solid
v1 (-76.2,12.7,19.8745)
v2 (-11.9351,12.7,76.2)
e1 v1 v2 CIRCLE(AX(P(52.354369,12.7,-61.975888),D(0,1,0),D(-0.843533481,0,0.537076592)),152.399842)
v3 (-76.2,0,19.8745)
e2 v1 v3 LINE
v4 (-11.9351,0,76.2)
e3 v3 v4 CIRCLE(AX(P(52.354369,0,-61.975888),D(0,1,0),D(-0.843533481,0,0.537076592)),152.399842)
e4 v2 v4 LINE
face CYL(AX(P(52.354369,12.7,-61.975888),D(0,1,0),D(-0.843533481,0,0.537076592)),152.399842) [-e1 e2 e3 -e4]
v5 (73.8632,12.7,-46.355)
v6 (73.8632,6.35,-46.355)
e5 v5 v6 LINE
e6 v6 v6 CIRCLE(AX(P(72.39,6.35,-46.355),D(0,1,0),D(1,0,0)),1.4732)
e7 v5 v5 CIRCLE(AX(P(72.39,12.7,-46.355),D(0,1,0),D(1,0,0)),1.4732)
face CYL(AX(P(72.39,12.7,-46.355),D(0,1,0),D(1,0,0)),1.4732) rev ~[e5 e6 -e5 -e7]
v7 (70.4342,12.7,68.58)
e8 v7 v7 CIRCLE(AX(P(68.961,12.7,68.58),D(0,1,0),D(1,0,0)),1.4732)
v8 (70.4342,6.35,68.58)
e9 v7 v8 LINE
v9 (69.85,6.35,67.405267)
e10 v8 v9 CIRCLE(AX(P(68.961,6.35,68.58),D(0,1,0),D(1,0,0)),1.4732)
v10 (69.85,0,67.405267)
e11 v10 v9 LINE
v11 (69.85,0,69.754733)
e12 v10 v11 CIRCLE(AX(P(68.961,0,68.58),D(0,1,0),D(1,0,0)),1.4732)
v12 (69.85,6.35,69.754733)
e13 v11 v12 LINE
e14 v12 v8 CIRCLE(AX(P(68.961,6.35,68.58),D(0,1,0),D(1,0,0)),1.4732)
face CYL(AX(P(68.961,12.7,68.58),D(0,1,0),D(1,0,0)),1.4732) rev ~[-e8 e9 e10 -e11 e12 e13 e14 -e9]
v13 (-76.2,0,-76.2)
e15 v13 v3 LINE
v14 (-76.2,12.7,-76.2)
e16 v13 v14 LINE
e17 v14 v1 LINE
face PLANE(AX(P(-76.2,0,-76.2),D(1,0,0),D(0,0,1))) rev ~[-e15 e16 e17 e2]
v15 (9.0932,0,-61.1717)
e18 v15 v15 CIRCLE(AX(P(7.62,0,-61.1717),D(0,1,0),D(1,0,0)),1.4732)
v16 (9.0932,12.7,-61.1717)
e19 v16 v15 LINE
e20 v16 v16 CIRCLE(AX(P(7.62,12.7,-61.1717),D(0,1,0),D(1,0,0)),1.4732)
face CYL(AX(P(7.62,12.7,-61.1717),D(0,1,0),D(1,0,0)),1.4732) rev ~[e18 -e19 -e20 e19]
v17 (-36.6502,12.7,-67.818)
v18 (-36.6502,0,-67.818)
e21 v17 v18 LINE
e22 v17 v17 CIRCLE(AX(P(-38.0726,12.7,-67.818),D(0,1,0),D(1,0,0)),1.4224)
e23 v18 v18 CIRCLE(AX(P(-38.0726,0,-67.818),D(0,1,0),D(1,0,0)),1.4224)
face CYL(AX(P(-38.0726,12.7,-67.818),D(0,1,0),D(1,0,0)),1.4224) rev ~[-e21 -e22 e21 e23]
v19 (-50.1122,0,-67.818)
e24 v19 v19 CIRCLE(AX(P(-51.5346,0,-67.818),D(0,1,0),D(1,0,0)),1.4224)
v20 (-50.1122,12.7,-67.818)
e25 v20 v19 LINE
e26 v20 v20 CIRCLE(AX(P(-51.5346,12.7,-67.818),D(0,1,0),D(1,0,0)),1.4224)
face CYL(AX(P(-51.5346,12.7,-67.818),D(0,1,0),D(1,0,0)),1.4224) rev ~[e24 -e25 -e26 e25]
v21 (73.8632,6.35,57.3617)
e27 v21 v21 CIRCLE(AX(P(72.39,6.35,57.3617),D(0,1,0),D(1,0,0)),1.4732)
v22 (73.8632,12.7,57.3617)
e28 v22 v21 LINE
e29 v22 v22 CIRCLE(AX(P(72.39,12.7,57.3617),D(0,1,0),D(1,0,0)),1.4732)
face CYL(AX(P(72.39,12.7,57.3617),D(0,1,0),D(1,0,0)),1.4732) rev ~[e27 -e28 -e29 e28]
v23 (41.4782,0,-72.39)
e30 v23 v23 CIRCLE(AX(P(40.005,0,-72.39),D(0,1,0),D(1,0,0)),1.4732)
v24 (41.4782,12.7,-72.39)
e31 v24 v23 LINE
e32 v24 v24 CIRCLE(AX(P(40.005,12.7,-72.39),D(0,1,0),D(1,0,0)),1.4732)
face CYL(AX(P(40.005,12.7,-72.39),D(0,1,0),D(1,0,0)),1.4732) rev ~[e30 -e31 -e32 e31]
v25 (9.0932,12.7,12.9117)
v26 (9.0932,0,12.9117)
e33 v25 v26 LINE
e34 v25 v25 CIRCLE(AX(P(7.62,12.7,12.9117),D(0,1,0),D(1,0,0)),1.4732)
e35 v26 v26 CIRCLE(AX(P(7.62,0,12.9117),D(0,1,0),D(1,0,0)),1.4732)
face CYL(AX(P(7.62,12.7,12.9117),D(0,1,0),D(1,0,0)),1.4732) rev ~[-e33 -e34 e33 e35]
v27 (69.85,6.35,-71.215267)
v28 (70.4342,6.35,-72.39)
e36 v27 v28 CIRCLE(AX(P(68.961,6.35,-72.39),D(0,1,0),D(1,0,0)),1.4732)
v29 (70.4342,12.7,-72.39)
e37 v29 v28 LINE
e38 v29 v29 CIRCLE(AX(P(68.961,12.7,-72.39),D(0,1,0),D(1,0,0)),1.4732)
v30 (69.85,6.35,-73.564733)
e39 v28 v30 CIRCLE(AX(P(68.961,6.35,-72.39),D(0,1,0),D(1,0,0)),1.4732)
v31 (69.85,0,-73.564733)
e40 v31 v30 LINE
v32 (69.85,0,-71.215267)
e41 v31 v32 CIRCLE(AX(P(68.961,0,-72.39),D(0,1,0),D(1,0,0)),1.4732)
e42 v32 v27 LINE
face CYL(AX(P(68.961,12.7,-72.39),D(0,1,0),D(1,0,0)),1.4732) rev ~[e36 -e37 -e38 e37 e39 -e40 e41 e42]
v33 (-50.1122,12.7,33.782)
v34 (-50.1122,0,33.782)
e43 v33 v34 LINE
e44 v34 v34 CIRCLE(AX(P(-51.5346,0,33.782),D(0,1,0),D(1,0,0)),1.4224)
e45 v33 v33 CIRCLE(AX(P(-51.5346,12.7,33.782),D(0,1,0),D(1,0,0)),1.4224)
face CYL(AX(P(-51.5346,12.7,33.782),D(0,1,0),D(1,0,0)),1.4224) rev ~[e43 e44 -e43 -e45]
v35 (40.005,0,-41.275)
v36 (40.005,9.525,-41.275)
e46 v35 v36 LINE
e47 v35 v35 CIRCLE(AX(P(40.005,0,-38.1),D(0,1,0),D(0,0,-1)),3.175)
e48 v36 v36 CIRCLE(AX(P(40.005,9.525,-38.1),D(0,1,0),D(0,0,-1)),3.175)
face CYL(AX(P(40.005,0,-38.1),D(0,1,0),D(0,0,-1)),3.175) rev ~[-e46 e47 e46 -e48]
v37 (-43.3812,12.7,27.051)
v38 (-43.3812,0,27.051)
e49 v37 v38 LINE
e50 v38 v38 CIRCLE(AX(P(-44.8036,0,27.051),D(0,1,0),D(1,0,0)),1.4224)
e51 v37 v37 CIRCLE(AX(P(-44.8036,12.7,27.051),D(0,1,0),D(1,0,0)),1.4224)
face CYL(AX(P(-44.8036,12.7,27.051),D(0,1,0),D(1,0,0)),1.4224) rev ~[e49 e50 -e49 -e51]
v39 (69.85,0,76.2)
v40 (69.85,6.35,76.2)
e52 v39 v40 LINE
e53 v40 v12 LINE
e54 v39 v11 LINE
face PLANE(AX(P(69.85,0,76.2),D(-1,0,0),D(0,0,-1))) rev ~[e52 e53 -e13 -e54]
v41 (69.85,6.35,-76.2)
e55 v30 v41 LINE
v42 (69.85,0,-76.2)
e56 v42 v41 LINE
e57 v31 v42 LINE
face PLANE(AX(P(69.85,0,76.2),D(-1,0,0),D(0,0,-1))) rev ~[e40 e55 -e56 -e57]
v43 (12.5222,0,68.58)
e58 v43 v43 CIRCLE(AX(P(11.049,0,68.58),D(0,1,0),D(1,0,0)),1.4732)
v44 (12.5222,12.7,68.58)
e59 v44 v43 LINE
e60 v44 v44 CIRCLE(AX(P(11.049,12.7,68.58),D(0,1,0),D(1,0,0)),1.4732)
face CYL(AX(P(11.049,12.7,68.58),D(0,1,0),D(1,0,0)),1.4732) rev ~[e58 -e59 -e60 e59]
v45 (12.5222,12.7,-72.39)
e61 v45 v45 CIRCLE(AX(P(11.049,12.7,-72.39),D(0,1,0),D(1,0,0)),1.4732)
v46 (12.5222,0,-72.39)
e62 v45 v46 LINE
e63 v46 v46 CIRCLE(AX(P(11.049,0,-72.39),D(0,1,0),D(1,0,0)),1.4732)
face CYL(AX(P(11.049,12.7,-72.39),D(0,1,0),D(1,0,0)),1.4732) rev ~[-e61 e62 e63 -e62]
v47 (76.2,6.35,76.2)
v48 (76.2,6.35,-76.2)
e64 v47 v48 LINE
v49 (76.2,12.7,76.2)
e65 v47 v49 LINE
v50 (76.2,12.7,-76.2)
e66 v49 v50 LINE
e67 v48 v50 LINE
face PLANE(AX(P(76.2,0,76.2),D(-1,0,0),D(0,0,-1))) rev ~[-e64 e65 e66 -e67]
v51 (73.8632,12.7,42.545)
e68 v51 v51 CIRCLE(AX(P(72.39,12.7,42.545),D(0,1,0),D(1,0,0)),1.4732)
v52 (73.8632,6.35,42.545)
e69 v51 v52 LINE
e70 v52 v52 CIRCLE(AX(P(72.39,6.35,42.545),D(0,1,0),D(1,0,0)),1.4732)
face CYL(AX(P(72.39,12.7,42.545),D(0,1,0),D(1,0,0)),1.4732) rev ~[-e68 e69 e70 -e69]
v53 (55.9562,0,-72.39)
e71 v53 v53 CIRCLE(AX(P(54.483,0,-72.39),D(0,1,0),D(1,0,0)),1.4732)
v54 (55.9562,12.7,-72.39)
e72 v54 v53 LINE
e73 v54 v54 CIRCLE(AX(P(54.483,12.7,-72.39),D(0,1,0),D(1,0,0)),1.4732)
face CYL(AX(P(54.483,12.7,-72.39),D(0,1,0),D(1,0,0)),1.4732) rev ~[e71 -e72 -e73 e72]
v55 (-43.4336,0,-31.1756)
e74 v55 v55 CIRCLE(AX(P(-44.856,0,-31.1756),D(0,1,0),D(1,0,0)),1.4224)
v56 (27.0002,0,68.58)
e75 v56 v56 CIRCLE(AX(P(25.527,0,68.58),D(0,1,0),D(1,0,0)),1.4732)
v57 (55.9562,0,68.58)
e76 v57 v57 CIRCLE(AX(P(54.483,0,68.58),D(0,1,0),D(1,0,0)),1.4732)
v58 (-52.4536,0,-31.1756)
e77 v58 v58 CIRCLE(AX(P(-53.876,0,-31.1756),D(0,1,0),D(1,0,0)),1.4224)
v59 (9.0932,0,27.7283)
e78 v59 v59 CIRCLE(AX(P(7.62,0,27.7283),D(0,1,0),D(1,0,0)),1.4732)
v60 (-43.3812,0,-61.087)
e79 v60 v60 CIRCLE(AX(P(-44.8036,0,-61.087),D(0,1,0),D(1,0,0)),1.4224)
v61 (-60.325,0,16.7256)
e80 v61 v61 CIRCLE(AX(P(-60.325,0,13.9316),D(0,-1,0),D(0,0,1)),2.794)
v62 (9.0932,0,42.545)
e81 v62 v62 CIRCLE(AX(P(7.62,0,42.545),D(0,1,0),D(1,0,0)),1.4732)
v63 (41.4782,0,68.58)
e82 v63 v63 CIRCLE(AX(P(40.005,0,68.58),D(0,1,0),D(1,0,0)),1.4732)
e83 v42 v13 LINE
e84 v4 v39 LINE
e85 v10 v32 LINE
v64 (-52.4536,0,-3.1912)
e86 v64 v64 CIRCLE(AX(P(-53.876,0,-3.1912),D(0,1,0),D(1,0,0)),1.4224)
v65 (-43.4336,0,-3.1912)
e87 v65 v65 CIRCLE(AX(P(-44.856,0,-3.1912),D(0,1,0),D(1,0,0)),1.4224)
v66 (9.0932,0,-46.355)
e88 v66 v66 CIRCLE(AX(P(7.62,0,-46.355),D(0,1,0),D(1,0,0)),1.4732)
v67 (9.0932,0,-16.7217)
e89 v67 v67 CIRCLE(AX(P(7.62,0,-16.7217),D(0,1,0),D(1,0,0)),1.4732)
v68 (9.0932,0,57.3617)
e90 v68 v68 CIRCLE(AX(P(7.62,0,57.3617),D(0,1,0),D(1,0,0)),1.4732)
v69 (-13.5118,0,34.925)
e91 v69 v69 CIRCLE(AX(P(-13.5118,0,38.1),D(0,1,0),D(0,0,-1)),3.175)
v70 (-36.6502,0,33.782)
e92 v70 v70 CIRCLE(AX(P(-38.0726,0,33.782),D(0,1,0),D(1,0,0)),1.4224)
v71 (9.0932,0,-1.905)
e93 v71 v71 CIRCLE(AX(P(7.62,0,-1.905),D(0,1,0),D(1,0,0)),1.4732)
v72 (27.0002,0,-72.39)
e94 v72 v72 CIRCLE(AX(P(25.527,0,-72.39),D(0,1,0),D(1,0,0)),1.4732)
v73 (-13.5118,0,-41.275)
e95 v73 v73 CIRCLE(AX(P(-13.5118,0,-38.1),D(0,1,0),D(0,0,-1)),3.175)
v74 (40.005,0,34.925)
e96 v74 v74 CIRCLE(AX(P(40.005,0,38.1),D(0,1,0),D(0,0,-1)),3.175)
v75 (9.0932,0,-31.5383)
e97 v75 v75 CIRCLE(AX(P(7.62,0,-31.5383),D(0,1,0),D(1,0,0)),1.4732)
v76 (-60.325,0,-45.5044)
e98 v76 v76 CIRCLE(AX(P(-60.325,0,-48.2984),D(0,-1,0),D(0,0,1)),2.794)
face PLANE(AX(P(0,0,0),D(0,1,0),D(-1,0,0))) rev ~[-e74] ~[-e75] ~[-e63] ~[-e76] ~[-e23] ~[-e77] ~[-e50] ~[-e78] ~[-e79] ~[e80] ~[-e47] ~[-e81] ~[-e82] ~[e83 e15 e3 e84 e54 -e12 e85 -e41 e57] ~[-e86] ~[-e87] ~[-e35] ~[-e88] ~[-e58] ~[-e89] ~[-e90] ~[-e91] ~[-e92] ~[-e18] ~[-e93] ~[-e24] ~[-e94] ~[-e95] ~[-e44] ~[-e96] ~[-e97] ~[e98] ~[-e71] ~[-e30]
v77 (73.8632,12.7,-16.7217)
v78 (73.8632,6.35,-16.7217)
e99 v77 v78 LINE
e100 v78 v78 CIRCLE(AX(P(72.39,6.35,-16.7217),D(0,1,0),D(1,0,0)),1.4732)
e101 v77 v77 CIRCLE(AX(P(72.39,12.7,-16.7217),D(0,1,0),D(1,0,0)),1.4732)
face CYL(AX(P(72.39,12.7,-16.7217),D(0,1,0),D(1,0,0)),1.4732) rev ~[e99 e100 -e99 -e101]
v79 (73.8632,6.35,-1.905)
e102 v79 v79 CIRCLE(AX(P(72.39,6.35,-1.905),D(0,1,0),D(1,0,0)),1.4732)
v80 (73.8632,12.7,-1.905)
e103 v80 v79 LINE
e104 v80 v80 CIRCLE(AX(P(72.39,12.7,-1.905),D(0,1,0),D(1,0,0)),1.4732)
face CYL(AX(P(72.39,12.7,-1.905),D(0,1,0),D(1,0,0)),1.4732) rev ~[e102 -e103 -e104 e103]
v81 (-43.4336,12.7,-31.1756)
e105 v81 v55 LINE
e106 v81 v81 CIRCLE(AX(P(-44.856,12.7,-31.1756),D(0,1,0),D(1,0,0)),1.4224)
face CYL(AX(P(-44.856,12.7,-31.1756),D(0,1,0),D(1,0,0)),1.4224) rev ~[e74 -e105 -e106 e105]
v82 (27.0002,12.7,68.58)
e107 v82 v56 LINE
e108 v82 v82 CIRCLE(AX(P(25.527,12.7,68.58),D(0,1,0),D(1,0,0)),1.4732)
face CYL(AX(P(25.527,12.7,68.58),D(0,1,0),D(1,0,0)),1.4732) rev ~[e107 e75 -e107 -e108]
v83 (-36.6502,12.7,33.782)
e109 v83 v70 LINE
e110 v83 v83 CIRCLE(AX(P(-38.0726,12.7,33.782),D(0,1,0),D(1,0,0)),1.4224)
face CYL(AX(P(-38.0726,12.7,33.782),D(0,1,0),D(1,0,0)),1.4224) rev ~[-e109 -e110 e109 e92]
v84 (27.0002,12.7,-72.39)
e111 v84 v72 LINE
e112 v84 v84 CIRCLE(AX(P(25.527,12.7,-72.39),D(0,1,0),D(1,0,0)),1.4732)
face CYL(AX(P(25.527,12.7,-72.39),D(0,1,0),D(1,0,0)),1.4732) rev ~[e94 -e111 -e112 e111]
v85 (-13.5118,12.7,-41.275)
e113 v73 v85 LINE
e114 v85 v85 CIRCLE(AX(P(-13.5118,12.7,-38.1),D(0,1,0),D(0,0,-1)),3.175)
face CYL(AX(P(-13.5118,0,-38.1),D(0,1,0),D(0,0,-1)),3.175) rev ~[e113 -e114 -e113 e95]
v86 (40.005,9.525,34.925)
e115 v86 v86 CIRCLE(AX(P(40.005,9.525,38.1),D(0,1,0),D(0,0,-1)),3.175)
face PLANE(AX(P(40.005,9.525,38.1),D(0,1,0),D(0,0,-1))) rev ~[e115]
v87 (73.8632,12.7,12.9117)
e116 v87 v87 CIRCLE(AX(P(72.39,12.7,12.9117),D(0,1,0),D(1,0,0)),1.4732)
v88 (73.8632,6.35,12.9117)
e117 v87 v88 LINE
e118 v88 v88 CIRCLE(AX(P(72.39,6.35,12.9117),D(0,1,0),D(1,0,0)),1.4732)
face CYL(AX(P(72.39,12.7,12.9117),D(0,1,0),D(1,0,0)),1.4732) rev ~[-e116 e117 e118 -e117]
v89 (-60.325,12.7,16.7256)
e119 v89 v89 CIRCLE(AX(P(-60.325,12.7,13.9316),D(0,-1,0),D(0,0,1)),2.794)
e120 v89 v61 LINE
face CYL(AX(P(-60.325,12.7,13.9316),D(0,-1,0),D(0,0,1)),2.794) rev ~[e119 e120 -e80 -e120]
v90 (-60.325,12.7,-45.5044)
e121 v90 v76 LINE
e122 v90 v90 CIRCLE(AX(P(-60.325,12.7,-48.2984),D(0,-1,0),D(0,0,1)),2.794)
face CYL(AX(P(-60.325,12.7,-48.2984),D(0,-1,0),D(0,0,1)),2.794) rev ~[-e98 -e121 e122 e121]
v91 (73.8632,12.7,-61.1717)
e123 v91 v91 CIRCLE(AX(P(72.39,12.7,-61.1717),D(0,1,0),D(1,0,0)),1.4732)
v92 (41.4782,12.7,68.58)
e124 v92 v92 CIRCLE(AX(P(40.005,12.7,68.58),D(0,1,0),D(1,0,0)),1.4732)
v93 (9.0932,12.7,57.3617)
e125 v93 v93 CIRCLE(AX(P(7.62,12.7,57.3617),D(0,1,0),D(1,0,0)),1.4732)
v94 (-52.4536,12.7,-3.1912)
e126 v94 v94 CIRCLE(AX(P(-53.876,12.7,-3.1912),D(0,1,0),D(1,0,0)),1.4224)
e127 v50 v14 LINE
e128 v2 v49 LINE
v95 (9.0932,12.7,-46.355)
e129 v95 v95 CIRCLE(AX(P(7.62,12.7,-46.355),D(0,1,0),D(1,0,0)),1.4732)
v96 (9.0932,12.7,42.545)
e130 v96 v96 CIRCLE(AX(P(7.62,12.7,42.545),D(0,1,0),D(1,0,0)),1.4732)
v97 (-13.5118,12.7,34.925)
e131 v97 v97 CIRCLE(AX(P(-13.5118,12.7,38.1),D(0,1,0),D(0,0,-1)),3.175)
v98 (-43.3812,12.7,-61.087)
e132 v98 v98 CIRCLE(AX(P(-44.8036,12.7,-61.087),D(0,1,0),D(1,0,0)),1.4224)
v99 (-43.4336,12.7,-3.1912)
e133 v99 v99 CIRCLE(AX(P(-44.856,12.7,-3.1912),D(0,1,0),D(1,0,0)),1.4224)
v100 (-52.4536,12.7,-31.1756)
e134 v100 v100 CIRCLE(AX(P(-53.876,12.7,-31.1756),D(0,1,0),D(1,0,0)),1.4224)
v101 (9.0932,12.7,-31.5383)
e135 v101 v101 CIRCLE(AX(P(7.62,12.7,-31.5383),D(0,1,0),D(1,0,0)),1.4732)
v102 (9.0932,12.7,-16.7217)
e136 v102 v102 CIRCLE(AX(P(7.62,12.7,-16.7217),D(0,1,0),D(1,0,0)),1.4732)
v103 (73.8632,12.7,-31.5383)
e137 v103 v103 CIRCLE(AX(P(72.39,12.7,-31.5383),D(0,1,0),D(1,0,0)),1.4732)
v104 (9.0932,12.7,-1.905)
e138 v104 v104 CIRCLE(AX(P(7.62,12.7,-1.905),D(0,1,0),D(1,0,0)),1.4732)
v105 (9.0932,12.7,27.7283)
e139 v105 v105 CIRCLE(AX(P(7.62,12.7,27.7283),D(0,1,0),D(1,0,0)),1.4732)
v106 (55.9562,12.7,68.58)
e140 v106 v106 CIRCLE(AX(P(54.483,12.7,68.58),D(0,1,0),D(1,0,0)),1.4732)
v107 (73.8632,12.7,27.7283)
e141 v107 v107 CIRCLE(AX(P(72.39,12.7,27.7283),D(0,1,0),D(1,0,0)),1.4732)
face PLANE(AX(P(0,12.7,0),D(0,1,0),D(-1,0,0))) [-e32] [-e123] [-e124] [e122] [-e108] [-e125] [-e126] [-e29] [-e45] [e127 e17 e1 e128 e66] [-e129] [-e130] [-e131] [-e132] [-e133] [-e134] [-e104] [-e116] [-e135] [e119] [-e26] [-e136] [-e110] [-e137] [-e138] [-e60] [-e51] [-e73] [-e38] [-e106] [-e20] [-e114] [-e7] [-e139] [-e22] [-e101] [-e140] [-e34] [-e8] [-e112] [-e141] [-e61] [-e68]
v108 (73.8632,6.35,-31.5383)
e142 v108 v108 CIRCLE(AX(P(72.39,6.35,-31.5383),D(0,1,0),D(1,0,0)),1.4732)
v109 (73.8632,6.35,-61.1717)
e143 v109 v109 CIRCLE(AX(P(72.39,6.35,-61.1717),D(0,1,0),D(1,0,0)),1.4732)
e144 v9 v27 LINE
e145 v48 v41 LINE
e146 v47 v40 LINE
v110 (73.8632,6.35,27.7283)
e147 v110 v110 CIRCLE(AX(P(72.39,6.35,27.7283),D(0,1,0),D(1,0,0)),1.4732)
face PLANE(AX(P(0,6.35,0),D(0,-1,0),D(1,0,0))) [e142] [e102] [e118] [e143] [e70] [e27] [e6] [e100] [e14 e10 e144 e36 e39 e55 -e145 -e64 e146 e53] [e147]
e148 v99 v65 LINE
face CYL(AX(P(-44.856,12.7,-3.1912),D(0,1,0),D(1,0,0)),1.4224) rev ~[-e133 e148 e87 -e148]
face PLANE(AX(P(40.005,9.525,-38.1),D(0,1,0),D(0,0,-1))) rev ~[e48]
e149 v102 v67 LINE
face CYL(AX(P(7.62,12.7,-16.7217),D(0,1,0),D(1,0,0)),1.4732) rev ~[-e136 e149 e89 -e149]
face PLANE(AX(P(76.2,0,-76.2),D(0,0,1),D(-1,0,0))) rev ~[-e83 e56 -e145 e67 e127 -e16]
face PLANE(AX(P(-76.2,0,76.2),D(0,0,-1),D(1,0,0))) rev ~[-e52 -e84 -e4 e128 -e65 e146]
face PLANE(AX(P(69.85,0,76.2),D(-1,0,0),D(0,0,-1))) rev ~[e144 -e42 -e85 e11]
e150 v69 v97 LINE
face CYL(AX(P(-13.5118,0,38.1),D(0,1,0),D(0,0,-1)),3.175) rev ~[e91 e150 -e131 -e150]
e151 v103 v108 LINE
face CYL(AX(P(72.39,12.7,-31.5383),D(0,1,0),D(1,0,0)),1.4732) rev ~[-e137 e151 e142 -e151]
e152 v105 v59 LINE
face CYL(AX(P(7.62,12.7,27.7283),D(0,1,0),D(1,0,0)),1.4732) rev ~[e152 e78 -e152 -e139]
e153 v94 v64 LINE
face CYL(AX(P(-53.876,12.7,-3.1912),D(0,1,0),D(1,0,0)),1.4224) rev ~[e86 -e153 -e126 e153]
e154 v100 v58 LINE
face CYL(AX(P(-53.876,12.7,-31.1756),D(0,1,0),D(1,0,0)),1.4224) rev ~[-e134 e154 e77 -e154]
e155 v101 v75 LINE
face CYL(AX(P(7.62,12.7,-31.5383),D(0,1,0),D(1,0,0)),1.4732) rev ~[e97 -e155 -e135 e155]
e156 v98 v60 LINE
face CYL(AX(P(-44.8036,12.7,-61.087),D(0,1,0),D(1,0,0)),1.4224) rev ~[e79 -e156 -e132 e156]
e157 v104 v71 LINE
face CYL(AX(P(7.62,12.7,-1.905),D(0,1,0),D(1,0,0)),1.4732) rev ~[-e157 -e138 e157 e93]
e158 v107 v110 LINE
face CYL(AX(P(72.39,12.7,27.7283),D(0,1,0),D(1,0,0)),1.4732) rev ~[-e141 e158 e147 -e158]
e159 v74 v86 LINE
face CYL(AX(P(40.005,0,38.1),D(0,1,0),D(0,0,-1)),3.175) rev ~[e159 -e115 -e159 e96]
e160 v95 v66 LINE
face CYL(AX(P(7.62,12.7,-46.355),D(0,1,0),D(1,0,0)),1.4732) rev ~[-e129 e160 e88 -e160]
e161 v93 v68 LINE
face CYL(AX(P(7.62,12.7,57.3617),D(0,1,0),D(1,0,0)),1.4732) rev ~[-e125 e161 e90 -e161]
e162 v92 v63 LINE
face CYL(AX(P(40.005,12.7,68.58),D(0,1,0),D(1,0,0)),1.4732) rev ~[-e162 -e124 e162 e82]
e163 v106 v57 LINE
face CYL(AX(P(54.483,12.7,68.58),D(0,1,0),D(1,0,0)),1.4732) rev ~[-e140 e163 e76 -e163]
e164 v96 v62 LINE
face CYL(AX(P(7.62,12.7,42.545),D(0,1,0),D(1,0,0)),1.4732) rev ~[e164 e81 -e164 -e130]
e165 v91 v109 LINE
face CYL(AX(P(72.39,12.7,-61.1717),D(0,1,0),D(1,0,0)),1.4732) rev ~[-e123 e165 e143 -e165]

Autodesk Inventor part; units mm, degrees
ref_plane "YZ Plane" through (0, 0, 0) normal (1, 0, 0) x (0, 1, 0)
ref_plane "XZ Plane" through (0, 0, 0) normal (0, 1, 0) x (-1, 0, 0)
ref_plane "XY Plane" through (0, 0, 0) normal (0, 0, 1) x (1, 0, 0)
sketch "Sketch1" plane through (0, 0, 0) normal (0, 1, 0) x (-1, 0, 0)
  line L0 (76.2, 76.2) -> (-76.2, 76.2)
  line L1 (-76.2, 76.2) -> (-76.2, -76.2)
  line L2 (-76.2, -76.2) -> (76.2, -76.2)
  line L3 (76.2, -76.2) -> (76.2, 76.2)
  point P0 (0, 0)
  dimension "d0" = 152.4
  dimension "d1" = 152.4
  dimension "d2" = 76.2
  dimension "d3" = 76.2
extrude "Extrusion1" add sketch "Sketch1" along normal blind 12.7
sketch "Sketch4" plane through (0, 12.7, 0) normal (0, 1, 0) x (1, 0, 0)
  circle A0 centre (69.85, 69.85) radius 3.175
  circle A1 centre (69.85, -69.85) radius 3.175
  circle A2 centre (-67.31, -52.07) radius 3.175
  line L0 (76.2, 76.2) -> (-76.2, 76.2) projected
  line L1 (76.2, -76.2) -> (76.2, 76.2) projected
  line L2 (-76.2, -76.2) -> (76.2, -76.2) projected
  line L3 (-76.2, 76.2) -> (-76.2, -76.2) projected
  circle A3 centre (-67.31, 52.07) radius 3.175
  point P0 (0, 0)
  dimension "d20" = 6.35
  dimension "d21" = 6.35
  dimension "d22" = 6.35
  dimension "d23" = 6.35
  dimension "d24" = 6.35
  dimension "d25" = 6.35
  dimension "d26" = 6.35
  dimension "d27" = 24.13
  dimension "d28" = 8.89
  dimension "d32" = 6.35
  dimension "d33" = 24.13
  dimension "d34" = 8.89
extrude "Extrusion6" [suppressed]
fillet "Fillet1" [suppressed]
sketch "Sketch7" plane through (0, 12.7, 0) normal (0, 1, 0) x (1, 0, 0)
  arc A0 (-76.2, -19.8745) -> (-11.9351, -76.2) centre (52.3545, 61.976) ccw
  line L0 (76.2, 76.2) -> (-76.2, 76.2) projected
  line L1 (76.2, -76.2) -> (76.2, 76.2) projected
  line L2 (-76.2, 76.2) -> (-76.2, -76.2) projected
  line L3 (-76.2, -76.2) -> (76.2, -76.2) projected
  line L4 (-76.2, 76.2) -> (-76.2, -76.2) projected
  arc A1 (-11.9351, -76.2) -> (-76.2, -19.8745) centre (52.3545, 61.976) ccw
  point P0 (0, 0)
  point P1 (76.2, -60.325)
  point P2 (73.025, -60.325)
  point P3 (73.025, 63.5)
  point P4 (73.025, 60.325)
  point P5 (-73.025, 63.5)
  point P6 (76.2, 60.325)
  point P7 (73.025, -63.5)
  point P8 (-76.2, 60.325)
  point P9 (-74.6455, -22.2663)
  dimension "d46" = 304.8
  dimension "d47" = 14.224
  dimension "d48" = 23.8455
sketch "Sketch8" plane through (0, 12.7, 0) normal (0, 1, 0) x (1, 0, 0)
  circle A0 centre (-38.0726, -33.782) radius 1.4224 projected
  circle A1 centre (-44.8036, -27.051) radius 1.4224 projected
  circle A2 centre (-51.5346, -33.782) radius 1.4224 projected
  circle A3 centre (-51.5346, 67.818) radius 1.4224 projected
  circle A4 centre (-44.8036, 61.087) radius 1.4224 projected
  circle A5 centre (-38.0726, 67.818) radius 1.4224 projected
  circle A6 centre (-53.876, 3.1912) radius 1.4224 projected
  circle A7 centre (-53.876, 3.1912) radius 1.4224 projected
  circle A8 centre (-44.856, 3.1912) radius 1.4224 projected
  line L0 (-40.346, 0.6734) -> (-58.386, 0.6734) projected
  line L1 (-40.346, 5.7089) -> (-40.346, 0.6734) projected
  line L2 (-40.346, 5.7089) -> (-58.386, 5.7089) projected
  line L3 (-58.386, 0.6734) -> (-58.386, 5.7089) projected
  circle A9 centre (-53.876, 31.1756) radius 1.4224 projected
  circle A10 centre (-44.856, 31.1756) radius 1.4224 projected
  line L4 (-40.346, 28.6579) -> (-58.386, 28.6579) projected
  line L5 (-40.346, 33.6934) -> (-40.346, 28.6579) projected
  line L6 (-40.346, 33.6934) -> (-58.386, 33.6934) projected
  line L7 (-58.386, 28.6579) -> (-58.386, 33.6934) projected
  circle A11 centre (2.54, -39.6875) radius 3.175 construction
  circle A12 centre (2.54, 12.7127) radius 3.175 construction
  circle A13 centre (2.54, 65.1129) radius 3.175 construction
  circle A14 centre (68.58, 65.1129) radius 3.175 construction
  circle A15 centre (68.58, 12.7127) radius 3.175 construction
  circle A16 centre (68.58, -39.6875) radius 3.175 construction
extrude "Extrusion9" cut sketch "Sketch8" against normal through all contours A0 | A1 | A2 | A3 | A4 | A5 | A6 | A8 | A9 | A10
extrude "Extrusion11" cut sketch "Sketch7" against normal through all contours A0 L3 L2
sketch "Sketch10" plane through (0, 12.7, 0) normal (0, 1, 0) x (1, 0, 0)
  circle A0 centre (68.961, 72.39) radius 1.4732 projected
  arc A1 (-76.2, -19.8745) -> (-11.9351, -76.2) centre (52.3545, 61.976) ccw projected
  line L0 (-11.9351, -76.2) -> (76.2, -76.2) projected
  line L1 (76.2, -76.2) -> (76.2, 76.2) projected
  line L2 (76.2, 76.2) -> (-76.2, 76.2) projected
  line L3 (-76.2, 76.2) -> (-76.2, -19.8745) projected
  circle A2 centre (-53.876, 31.1756) radius 1.4224 projected
  circle A3 centre (-53.876, 3.1912) radius 1.4224 projected
  circle A4 centre (-44.8036, 61.087) radius 1.4224 projected
  circle A5 centre (-51.5346, -33.782) radius 1.4224 projected
  circle A6 centre (-38.0726, -33.782) radius 1.4224 projected
  circle A7 centre (-44.8036, -27.051) radius 1.4224 projected
  circle A8 centre (-51.5346, 67.818) radius 1.4224 projected
  circle A9 centre (-38.0726, 67.818) radius 1.4224 projected
  circle A10 centre (-44.856, 3.1912) radius 1.4224 projected
  circle A11 centre (-44.856, 31.1756) radius 1.4224 projected
  circle A12 centre (40.005, 72.39) radius 1.4732 projected
  circle A13 centre (54.483, 72.39) radius 1.4732 projected
  circle A14 centre (25.527, 72.39) radius 1.4732 projected
  circle A15 centre (11.049, 72.39) radius 1.4732 projected
  circle A16 centre (68.961, -68.58) radius 1.4732 projected
  circle A17 centre (54.483, -68.58) radius 1.4732 projected
  circle A18 centre (40.005, -68.58) radius 1.4732 projected
  circle A19 centre (25.527, -68.58) radius 1.4732 projected
  circle A20 centre (11.049, -68.58) radius 1.4732 projected
  point P0 (0, 0)
extrude "Extrusion13" cut sketch "Sketch10" against normal through all contours A0 | A12 | A13 | A14 | A15 | A16 | A17 | A18 | A19 | A20
sketch "Sketch11" plane through (0, 12.7, 0) normal (0, 1, 0) x (1, 0, 0)
  circle A0 centre (25.527, 72.39) radius 1.4732 projected
  circle A1 centre (54.483, 72.39) radius 1.4732 projected
  circle A2 centre (68.961, -68.58) radius 1.4732 projected
  circle A3 centre (40.005, -68.58) radius 1.4732 projected
  circle A4 centre (11.049, -68.58) radius 1.4732 projected
  circle A5 centre (7.62, -42.545) radius 1.4732 projected
  circle A6 centre (7.62, -12.9117) radius 1.4732 projected
  circle A7 centre (7.62, 16.7217) radius 1.4732 projected
  circle A8 centre (7.62, 46.355) radius 1.4732 projected
  circle A9 centre (72.39, 61.1717) radius 1.4732 projected
  circle A10 centre (72.39, 31.5383) radius 1.4732 projected
  circle A11 centre (72.39, 1.905) radius 1.4732 projected
  circle A12 centre (72.39, -27.7283) radius 1.4732 projected
  circle A13 centre (72.39, -57.3617) radius 1.4732 projected
  circle A14 centre (72.39, -42.545) radius 1.4732 projected
  circle A15 centre (72.39, -12.9117) radius 1.4732 projected
  circle A16 centre (72.39, 16.7217) radius 1.4732 projected
  circle A17 centre (72.39, 46.355) radius 1.4732 projected
  circle A18 centre (7.62, 61.1717) radius 1.4732 projected
  circle A19 centre (7.62, 31.5383) radius 1.4732 projected
  circle A20 centre (7.62, 1.905) radius 1.4732 projected
  circle A21 centre (7.62, -27.7283) radius 1.4732 projected
  circle A22 centre (7.62, -57.3617) radius 1.4732 projected
  circle A23 centre (25.527, -68.58) radius 1.4732 projected
  circle A24 centre (54.483, -68.58) radius 1.4732 projected
  circle A25 centre (68.961, 72.39) radius 1.4732 projected
  circle A26 centre (40.005, 72.39) radius 1.4732 projected
  circle A27 centre (11.049, 72.39) radius 1.4732 projected
  line L0 (6.985, -72.39) -> (73.025, -72.39) projected
  line L1 (76.2, -69.215) -> (76.2, 73.025) projected
  line L2 (73.025, 76.2) -> (6.985, 76.2) projected
  line L3 (3.81, 73.025) -> (3.81, -69.215) projected
  arc A28 (65.405, 62.23) -> (62.23, 65.405) centre (62.23, 62.23) ccw projected
  line L4 (65.405, -58.42) -> (65.405, 62.23) projected
  arc A29 (62.23, -61.595) -> (65.405, -58.42) centre (62.23, -58.42) ccw projected
  line L5 (17.78, -61.595) -> (62.23, -61.595) projected
  arc A30 (14.605, -58.42) -> (17.78, -61.595) centre (17.78, -58.42) ccw projected
  line L6 (14.605, 62.23) -> (14.605, -58.42) projected
  arc A31 (17.78, 65.405) -> (14.605, 62.23) centre (17.78, 62.23) ccw projected
  line L7 (62.23, 65.405) -> (17.78, 65.405) projected
  arc A32 (76.2, 73.025) -> (73.025, 76.2) centre (73.025, 73.025) ccw projected
  arc A33 (6.985, 76.2) -> (3.81, 73.025) centre (6.985, 73.025) ccw projected
  arc A34 (3.81, -69.215) -> (6.985, -72.39) centre (6.985, -69.215) ccw projected
  arc A35 (73.025, -72.39) -> (76.2, -69.215) centre (73.025, -69.215) ccw projected
  point P0 (0, 0)
extrude "Extrusion14" cut sketch "Sketch11" against normal through all contours A5 | A6 | A7 | A8 | A9 | A10 | A11 | A12 | A13 | A14 | A15 | A16 | A17 | A18 | A19 | A20 | A21 | A22 | A25
sketch "Sketch12" plane through (0, 12.7, 0) normal (0, 1, 0) x (1, 0, 0)
  line L0 (-76.2, 76.2) -> (-76.2, -19.8745) projected
  line L1 (76.2, 76.2) -> (-76.2, 76.2) projected
  circle A0 centre (-53.876, 31.1756) radius 1.4224 projected
  circle A1 centre (-53.876, 3.1912) radius 1.4224 projected
  line L2 (-53.876, 17.1834) -> (-44.4208, 17.1834) construction
  point P0 (0, 0)
  point P1 (-60.325, -13.9316)
  point P2 (-60.325, 48.2984)
  dimension "d63" = 15.875
  dimension "d64" = 15.875
  dimension "d75" = 13.9922
  dimension "d76" = 27.9845
  dimension "d77" = 31.115
  dimension "d78" = 31.115
hole "Hole1" at (-60.325, 12.7, 13.9316) at (-60.325, 12.7, -48.2984) direction (0, -1, 0) diameter 5.588 depth 25.4 tip angle 118
sketch "Sketch14" plane through (0, 0, 0) normal (0, -1, 0) x (1, 0, 0)
  line L0 (76.2, -76.2) -> (-76.2, -76.2) projected
  line L1 (-11.9351, 76.2) -> (76.2, 76.2) projected
  circle A0 centre (11.049, -72.39) radius 1.4732 projected
  circle A1 centre (-38.0726, -67.818) radius 1.4224 projected
  point P0 (0, 0)
  point P1 (-13.5118, 38.1)
  point P2 (-13.5118, -38.1)
  dimension "d79" = 38.1
  dimension "d80" = 152.4
  dimension "d81" = 38.1
  dimension "d82" = 49.1217
  dimension "d83" = 24.5608
  dimension "d84" = 24.5608
hole "Hole2" at (-13.5118, 0, 38.1) at (-13.5118, 0, -38.1) direction (0, 1, 0) diameter 6.35 depth 25.4 tip angle 118
sketch "Sketch15" plane through (0, 0, 0) normal (0, -1, 0) x (1, 0, 0)
  circle A0 centre (-13.5118, 38.1) radius 3.175 projected
  circle A1 centre (-13.5118, -38.1) radius 3.175 projected
  circle A2 centre (72.39, -31.5383) radius 1.4732 projected
  circle A3 centre (7.62, -31.5383) radius 1.4732 projected
  circle A4 centre (7.62, 42.545) radius 1.4732 projected
  point P0 (0, 0)
  point P1 (40.005, -38.1)
  point P2 (40.005, 38.1)
  dimension "d92" = 38.1
  dimension "d93" = 38.1
  dimension "d94" = 38.1
  dimension "d95" = 38.1
  dimension "d96" = 64.77
  dimension "d97" = 32.385
  dimension "d98" = 32.385
hole "Hole3" at (40.005, 0, -38.1) at (40.005, 0, 38.1) direction (0, 1, 0) diameter 6.35 depth 9.525
thread "Thread1" size "1/4-20 UNC" class "2B" standard "ANSI Unified Screw Threads" full length
thread "Thread2" size "1/4-20 UNC" class "2B" standard "ANSI Unified Screw Threads" full length
thread "Thread3" size "5-40 UNC" class "2B" standard "ANSI Unified Screw Threads" full length
thread "Thread4" size "5-40 UNC" class "2B" standard "ANSI Unified Screw Threads" full length
thread "Thread5" size "5-40 UNC" class "2B" standard "ANSI Unified Screw Threads" full length
thread "Thread6" size "5-40 UNC" class "2B" standard "ANSI Unified Screw Threads" full length
thread "Thread7" size "5-40 UNC" class "2B" standard "ANSI Unified Screw Threads" full length
thread "Thread8" size "5-40 UNC" class "2B" standard "ANSI Unified Screw Threads" full length
thread "Thread9" size "5-40 UNC" class "2B" standard "ANSI Unified Screw Threads" full length
thread "Thread10" size "5-40 UNC" class "2B" standard "ANSI Unified Screw Threads" full length
thread "Thread11" size "5-40 UNC" class "2B" standard "ANSI Unified Screw Threads" full length
thread "Thread12" size "5-40 UNC" class "2B" standard "ANSI Unified Screw Threads" full length
thread "Thread13" size "5-40 UNC" class "2B" standard "ANSI Unified Screw Threads" full length
thread "Thread14" size "5-40 UNC" class "2B" standard "ANSI Unified Screw Threads" full length
thread "Thread15" size "5-40 UNC" class "2B" standard "ANSI Unified Screw Threads" full length
thread "Thread16" size "5-40 UNC" class "2B" standard "ANSI Unified Screw Threads" full length
thread "Thread17" size "5-40 UNC" class "2B" standard "ANSI Unified Screw Threads" full length
thread "Thread18" size "5-40 UNC" class "2B" standard "ANSI Unified Screw Threads" full length
thread "Thread19" size "5-40 UNC" class "2B" standard "ANSI Unified Screw Threads" full length
thread "Thread20" size "5-40 UNC" class "2B" standard "ANSI Unified Screw Threads" full length
thread "Thread21" size "5-40 UNC" class "2B" standard "ANSI Unified Screw Threads" full length
thread "Thread22" size "5-40 UNC" class "2B" standard "ANSI Unified Screw Threads" full length
thread "Thread23" size "5-40 UNC" class "2B" standard "ANSI Unified Screw Threads" full length
thread "Thread24" size "5-40 UNC" class "2B" standard "ANSI Unified Screw Threads" full length
thread "Thread25" size "5-40 UNC" class "2B" standard "ANSI Unified Screw Threads" full length
thread "Thread26" size "5-40 UNC" class "2B" standard "ANSI Unified Screw Threads" full length
thread "Thread27" size "5-40 UNC" class "2B" standard "ANSI Unified Screw Threads" full length
thread "Thread28" size "5-40 UNC" class "2B" standard "ANSI Unified Screw Threads" full length
thread "Thread29" size "5-40 UNC" class "2B" standard "ANSI Unified Screw Threads" full length
thread "Thread30" size "5-40 UNC" class "2B" standard "ANSI Unified Screw Threads" full length
thread "Thread31" size "5-40 UNC" class "2B" standard "ANSI Unified Screw Threads" full length
thread "Thread32" size "4-40 UNC" class "2B" standard "ANSI Unified Screw Threads" full length
thread "Thread33" size "4-40 UNC" class "2B" standard "ANSI Unified Screw Threads" full length
thread "Thread34" size "4-40 UNC" class "2B" standard "ANSI Unified Screw Threads" full length
thread "Thread35" size "4-40 UNC" class "2B" standard "ANSI Unified Screw Threads" full length
thread "Thread36" size "4-40 UNC" class "2B" standard "ANSI Unified Screw Threads" full length
thread "Thread37" size "4-40 UNC" class "2B" standard "ANSI Unified Screw Threads" full length
thread "Thread38" size "4-40 UNC" class "2B" standard "ANSI Unified Screw Threads" full length
thread "Thread39" size "4-40 UNC" class "2B" standard "ANSI Unified Screw Threads" full length
thread "Thread40" size "4-40 UNC" class "2B" standard "ANSI Unified Screw Threads" full length
thread "Thread41" size "4-40 UNC" class "2B" standard "ANSI Unified Screw Threads" full length
thread "Thread42" size "1/4-20 UNC" class "2B" standard "ANSI Unified Screw Threads" full length
thread "Thread43" size "1/4-20 UNC" class "2B" standard "ANSI Unified Screw Threads" full length
thread "Thread44" size "1/4-20 UNC" class "2B" standard "ANSI Unified Screw Threads" full length
thread "Thread45" size "1/4-20 UNC" class "2B" standard "ANSI Unified Screw Threads" full length
sketch "Sketch16" plane through (0, 0, 0) normal (0, -1, 0) x (1, 0, 0)
  line L0 (76.2, 76.2) -> (76.2, -76.2) projected
  line L1 (76.2, -76.2) -> (-76.2, -76.2) projected
  line L2 (76.2, 76.2) -> (69.85, 76.2)
  line L3 (69.85, 76.2) -> (69.85, -76.2)
  line L4 (69.85, -76.2) -> (76.2, -76.2)
  line L5 (76.2, -76.2) -> (76.2, 76.2)
  point P0 (0, 0)
  dimension "d196" = 6.35
extrude "Extrusion15" cut sketch "Sketch16" against normal blind 6.35
equation "\"d2\" = 0.5 * d1"
equation "\"d3\" = 0.5 * d0"
equation "\"d21\" = d20"
equation "\"d22\" = d20"
equation "\"d24\" = d23"
equation "\"d25\" = d24"
equation "\"d26\" = d23"
equation "\"d32\" = d20"
equation "\"d33\" = d27"
equation "\"d34\" = d28"
equation "\"d63\" = d64"
equation "\"d75\" = 0.5 * d76"
equation "\"d78\" = d77"
equation "\"d83\" = 0.5 * d82"
equation "\"d84\" = d83"
equation "\"d92\" = d93"
equation "\"d95\" = d94"
equation "\"d97\" = 0.5 * d96"
equation "\"d98\" = d97"
properties part number "Base Plate Mk 3" material "Aluminum 6061"
